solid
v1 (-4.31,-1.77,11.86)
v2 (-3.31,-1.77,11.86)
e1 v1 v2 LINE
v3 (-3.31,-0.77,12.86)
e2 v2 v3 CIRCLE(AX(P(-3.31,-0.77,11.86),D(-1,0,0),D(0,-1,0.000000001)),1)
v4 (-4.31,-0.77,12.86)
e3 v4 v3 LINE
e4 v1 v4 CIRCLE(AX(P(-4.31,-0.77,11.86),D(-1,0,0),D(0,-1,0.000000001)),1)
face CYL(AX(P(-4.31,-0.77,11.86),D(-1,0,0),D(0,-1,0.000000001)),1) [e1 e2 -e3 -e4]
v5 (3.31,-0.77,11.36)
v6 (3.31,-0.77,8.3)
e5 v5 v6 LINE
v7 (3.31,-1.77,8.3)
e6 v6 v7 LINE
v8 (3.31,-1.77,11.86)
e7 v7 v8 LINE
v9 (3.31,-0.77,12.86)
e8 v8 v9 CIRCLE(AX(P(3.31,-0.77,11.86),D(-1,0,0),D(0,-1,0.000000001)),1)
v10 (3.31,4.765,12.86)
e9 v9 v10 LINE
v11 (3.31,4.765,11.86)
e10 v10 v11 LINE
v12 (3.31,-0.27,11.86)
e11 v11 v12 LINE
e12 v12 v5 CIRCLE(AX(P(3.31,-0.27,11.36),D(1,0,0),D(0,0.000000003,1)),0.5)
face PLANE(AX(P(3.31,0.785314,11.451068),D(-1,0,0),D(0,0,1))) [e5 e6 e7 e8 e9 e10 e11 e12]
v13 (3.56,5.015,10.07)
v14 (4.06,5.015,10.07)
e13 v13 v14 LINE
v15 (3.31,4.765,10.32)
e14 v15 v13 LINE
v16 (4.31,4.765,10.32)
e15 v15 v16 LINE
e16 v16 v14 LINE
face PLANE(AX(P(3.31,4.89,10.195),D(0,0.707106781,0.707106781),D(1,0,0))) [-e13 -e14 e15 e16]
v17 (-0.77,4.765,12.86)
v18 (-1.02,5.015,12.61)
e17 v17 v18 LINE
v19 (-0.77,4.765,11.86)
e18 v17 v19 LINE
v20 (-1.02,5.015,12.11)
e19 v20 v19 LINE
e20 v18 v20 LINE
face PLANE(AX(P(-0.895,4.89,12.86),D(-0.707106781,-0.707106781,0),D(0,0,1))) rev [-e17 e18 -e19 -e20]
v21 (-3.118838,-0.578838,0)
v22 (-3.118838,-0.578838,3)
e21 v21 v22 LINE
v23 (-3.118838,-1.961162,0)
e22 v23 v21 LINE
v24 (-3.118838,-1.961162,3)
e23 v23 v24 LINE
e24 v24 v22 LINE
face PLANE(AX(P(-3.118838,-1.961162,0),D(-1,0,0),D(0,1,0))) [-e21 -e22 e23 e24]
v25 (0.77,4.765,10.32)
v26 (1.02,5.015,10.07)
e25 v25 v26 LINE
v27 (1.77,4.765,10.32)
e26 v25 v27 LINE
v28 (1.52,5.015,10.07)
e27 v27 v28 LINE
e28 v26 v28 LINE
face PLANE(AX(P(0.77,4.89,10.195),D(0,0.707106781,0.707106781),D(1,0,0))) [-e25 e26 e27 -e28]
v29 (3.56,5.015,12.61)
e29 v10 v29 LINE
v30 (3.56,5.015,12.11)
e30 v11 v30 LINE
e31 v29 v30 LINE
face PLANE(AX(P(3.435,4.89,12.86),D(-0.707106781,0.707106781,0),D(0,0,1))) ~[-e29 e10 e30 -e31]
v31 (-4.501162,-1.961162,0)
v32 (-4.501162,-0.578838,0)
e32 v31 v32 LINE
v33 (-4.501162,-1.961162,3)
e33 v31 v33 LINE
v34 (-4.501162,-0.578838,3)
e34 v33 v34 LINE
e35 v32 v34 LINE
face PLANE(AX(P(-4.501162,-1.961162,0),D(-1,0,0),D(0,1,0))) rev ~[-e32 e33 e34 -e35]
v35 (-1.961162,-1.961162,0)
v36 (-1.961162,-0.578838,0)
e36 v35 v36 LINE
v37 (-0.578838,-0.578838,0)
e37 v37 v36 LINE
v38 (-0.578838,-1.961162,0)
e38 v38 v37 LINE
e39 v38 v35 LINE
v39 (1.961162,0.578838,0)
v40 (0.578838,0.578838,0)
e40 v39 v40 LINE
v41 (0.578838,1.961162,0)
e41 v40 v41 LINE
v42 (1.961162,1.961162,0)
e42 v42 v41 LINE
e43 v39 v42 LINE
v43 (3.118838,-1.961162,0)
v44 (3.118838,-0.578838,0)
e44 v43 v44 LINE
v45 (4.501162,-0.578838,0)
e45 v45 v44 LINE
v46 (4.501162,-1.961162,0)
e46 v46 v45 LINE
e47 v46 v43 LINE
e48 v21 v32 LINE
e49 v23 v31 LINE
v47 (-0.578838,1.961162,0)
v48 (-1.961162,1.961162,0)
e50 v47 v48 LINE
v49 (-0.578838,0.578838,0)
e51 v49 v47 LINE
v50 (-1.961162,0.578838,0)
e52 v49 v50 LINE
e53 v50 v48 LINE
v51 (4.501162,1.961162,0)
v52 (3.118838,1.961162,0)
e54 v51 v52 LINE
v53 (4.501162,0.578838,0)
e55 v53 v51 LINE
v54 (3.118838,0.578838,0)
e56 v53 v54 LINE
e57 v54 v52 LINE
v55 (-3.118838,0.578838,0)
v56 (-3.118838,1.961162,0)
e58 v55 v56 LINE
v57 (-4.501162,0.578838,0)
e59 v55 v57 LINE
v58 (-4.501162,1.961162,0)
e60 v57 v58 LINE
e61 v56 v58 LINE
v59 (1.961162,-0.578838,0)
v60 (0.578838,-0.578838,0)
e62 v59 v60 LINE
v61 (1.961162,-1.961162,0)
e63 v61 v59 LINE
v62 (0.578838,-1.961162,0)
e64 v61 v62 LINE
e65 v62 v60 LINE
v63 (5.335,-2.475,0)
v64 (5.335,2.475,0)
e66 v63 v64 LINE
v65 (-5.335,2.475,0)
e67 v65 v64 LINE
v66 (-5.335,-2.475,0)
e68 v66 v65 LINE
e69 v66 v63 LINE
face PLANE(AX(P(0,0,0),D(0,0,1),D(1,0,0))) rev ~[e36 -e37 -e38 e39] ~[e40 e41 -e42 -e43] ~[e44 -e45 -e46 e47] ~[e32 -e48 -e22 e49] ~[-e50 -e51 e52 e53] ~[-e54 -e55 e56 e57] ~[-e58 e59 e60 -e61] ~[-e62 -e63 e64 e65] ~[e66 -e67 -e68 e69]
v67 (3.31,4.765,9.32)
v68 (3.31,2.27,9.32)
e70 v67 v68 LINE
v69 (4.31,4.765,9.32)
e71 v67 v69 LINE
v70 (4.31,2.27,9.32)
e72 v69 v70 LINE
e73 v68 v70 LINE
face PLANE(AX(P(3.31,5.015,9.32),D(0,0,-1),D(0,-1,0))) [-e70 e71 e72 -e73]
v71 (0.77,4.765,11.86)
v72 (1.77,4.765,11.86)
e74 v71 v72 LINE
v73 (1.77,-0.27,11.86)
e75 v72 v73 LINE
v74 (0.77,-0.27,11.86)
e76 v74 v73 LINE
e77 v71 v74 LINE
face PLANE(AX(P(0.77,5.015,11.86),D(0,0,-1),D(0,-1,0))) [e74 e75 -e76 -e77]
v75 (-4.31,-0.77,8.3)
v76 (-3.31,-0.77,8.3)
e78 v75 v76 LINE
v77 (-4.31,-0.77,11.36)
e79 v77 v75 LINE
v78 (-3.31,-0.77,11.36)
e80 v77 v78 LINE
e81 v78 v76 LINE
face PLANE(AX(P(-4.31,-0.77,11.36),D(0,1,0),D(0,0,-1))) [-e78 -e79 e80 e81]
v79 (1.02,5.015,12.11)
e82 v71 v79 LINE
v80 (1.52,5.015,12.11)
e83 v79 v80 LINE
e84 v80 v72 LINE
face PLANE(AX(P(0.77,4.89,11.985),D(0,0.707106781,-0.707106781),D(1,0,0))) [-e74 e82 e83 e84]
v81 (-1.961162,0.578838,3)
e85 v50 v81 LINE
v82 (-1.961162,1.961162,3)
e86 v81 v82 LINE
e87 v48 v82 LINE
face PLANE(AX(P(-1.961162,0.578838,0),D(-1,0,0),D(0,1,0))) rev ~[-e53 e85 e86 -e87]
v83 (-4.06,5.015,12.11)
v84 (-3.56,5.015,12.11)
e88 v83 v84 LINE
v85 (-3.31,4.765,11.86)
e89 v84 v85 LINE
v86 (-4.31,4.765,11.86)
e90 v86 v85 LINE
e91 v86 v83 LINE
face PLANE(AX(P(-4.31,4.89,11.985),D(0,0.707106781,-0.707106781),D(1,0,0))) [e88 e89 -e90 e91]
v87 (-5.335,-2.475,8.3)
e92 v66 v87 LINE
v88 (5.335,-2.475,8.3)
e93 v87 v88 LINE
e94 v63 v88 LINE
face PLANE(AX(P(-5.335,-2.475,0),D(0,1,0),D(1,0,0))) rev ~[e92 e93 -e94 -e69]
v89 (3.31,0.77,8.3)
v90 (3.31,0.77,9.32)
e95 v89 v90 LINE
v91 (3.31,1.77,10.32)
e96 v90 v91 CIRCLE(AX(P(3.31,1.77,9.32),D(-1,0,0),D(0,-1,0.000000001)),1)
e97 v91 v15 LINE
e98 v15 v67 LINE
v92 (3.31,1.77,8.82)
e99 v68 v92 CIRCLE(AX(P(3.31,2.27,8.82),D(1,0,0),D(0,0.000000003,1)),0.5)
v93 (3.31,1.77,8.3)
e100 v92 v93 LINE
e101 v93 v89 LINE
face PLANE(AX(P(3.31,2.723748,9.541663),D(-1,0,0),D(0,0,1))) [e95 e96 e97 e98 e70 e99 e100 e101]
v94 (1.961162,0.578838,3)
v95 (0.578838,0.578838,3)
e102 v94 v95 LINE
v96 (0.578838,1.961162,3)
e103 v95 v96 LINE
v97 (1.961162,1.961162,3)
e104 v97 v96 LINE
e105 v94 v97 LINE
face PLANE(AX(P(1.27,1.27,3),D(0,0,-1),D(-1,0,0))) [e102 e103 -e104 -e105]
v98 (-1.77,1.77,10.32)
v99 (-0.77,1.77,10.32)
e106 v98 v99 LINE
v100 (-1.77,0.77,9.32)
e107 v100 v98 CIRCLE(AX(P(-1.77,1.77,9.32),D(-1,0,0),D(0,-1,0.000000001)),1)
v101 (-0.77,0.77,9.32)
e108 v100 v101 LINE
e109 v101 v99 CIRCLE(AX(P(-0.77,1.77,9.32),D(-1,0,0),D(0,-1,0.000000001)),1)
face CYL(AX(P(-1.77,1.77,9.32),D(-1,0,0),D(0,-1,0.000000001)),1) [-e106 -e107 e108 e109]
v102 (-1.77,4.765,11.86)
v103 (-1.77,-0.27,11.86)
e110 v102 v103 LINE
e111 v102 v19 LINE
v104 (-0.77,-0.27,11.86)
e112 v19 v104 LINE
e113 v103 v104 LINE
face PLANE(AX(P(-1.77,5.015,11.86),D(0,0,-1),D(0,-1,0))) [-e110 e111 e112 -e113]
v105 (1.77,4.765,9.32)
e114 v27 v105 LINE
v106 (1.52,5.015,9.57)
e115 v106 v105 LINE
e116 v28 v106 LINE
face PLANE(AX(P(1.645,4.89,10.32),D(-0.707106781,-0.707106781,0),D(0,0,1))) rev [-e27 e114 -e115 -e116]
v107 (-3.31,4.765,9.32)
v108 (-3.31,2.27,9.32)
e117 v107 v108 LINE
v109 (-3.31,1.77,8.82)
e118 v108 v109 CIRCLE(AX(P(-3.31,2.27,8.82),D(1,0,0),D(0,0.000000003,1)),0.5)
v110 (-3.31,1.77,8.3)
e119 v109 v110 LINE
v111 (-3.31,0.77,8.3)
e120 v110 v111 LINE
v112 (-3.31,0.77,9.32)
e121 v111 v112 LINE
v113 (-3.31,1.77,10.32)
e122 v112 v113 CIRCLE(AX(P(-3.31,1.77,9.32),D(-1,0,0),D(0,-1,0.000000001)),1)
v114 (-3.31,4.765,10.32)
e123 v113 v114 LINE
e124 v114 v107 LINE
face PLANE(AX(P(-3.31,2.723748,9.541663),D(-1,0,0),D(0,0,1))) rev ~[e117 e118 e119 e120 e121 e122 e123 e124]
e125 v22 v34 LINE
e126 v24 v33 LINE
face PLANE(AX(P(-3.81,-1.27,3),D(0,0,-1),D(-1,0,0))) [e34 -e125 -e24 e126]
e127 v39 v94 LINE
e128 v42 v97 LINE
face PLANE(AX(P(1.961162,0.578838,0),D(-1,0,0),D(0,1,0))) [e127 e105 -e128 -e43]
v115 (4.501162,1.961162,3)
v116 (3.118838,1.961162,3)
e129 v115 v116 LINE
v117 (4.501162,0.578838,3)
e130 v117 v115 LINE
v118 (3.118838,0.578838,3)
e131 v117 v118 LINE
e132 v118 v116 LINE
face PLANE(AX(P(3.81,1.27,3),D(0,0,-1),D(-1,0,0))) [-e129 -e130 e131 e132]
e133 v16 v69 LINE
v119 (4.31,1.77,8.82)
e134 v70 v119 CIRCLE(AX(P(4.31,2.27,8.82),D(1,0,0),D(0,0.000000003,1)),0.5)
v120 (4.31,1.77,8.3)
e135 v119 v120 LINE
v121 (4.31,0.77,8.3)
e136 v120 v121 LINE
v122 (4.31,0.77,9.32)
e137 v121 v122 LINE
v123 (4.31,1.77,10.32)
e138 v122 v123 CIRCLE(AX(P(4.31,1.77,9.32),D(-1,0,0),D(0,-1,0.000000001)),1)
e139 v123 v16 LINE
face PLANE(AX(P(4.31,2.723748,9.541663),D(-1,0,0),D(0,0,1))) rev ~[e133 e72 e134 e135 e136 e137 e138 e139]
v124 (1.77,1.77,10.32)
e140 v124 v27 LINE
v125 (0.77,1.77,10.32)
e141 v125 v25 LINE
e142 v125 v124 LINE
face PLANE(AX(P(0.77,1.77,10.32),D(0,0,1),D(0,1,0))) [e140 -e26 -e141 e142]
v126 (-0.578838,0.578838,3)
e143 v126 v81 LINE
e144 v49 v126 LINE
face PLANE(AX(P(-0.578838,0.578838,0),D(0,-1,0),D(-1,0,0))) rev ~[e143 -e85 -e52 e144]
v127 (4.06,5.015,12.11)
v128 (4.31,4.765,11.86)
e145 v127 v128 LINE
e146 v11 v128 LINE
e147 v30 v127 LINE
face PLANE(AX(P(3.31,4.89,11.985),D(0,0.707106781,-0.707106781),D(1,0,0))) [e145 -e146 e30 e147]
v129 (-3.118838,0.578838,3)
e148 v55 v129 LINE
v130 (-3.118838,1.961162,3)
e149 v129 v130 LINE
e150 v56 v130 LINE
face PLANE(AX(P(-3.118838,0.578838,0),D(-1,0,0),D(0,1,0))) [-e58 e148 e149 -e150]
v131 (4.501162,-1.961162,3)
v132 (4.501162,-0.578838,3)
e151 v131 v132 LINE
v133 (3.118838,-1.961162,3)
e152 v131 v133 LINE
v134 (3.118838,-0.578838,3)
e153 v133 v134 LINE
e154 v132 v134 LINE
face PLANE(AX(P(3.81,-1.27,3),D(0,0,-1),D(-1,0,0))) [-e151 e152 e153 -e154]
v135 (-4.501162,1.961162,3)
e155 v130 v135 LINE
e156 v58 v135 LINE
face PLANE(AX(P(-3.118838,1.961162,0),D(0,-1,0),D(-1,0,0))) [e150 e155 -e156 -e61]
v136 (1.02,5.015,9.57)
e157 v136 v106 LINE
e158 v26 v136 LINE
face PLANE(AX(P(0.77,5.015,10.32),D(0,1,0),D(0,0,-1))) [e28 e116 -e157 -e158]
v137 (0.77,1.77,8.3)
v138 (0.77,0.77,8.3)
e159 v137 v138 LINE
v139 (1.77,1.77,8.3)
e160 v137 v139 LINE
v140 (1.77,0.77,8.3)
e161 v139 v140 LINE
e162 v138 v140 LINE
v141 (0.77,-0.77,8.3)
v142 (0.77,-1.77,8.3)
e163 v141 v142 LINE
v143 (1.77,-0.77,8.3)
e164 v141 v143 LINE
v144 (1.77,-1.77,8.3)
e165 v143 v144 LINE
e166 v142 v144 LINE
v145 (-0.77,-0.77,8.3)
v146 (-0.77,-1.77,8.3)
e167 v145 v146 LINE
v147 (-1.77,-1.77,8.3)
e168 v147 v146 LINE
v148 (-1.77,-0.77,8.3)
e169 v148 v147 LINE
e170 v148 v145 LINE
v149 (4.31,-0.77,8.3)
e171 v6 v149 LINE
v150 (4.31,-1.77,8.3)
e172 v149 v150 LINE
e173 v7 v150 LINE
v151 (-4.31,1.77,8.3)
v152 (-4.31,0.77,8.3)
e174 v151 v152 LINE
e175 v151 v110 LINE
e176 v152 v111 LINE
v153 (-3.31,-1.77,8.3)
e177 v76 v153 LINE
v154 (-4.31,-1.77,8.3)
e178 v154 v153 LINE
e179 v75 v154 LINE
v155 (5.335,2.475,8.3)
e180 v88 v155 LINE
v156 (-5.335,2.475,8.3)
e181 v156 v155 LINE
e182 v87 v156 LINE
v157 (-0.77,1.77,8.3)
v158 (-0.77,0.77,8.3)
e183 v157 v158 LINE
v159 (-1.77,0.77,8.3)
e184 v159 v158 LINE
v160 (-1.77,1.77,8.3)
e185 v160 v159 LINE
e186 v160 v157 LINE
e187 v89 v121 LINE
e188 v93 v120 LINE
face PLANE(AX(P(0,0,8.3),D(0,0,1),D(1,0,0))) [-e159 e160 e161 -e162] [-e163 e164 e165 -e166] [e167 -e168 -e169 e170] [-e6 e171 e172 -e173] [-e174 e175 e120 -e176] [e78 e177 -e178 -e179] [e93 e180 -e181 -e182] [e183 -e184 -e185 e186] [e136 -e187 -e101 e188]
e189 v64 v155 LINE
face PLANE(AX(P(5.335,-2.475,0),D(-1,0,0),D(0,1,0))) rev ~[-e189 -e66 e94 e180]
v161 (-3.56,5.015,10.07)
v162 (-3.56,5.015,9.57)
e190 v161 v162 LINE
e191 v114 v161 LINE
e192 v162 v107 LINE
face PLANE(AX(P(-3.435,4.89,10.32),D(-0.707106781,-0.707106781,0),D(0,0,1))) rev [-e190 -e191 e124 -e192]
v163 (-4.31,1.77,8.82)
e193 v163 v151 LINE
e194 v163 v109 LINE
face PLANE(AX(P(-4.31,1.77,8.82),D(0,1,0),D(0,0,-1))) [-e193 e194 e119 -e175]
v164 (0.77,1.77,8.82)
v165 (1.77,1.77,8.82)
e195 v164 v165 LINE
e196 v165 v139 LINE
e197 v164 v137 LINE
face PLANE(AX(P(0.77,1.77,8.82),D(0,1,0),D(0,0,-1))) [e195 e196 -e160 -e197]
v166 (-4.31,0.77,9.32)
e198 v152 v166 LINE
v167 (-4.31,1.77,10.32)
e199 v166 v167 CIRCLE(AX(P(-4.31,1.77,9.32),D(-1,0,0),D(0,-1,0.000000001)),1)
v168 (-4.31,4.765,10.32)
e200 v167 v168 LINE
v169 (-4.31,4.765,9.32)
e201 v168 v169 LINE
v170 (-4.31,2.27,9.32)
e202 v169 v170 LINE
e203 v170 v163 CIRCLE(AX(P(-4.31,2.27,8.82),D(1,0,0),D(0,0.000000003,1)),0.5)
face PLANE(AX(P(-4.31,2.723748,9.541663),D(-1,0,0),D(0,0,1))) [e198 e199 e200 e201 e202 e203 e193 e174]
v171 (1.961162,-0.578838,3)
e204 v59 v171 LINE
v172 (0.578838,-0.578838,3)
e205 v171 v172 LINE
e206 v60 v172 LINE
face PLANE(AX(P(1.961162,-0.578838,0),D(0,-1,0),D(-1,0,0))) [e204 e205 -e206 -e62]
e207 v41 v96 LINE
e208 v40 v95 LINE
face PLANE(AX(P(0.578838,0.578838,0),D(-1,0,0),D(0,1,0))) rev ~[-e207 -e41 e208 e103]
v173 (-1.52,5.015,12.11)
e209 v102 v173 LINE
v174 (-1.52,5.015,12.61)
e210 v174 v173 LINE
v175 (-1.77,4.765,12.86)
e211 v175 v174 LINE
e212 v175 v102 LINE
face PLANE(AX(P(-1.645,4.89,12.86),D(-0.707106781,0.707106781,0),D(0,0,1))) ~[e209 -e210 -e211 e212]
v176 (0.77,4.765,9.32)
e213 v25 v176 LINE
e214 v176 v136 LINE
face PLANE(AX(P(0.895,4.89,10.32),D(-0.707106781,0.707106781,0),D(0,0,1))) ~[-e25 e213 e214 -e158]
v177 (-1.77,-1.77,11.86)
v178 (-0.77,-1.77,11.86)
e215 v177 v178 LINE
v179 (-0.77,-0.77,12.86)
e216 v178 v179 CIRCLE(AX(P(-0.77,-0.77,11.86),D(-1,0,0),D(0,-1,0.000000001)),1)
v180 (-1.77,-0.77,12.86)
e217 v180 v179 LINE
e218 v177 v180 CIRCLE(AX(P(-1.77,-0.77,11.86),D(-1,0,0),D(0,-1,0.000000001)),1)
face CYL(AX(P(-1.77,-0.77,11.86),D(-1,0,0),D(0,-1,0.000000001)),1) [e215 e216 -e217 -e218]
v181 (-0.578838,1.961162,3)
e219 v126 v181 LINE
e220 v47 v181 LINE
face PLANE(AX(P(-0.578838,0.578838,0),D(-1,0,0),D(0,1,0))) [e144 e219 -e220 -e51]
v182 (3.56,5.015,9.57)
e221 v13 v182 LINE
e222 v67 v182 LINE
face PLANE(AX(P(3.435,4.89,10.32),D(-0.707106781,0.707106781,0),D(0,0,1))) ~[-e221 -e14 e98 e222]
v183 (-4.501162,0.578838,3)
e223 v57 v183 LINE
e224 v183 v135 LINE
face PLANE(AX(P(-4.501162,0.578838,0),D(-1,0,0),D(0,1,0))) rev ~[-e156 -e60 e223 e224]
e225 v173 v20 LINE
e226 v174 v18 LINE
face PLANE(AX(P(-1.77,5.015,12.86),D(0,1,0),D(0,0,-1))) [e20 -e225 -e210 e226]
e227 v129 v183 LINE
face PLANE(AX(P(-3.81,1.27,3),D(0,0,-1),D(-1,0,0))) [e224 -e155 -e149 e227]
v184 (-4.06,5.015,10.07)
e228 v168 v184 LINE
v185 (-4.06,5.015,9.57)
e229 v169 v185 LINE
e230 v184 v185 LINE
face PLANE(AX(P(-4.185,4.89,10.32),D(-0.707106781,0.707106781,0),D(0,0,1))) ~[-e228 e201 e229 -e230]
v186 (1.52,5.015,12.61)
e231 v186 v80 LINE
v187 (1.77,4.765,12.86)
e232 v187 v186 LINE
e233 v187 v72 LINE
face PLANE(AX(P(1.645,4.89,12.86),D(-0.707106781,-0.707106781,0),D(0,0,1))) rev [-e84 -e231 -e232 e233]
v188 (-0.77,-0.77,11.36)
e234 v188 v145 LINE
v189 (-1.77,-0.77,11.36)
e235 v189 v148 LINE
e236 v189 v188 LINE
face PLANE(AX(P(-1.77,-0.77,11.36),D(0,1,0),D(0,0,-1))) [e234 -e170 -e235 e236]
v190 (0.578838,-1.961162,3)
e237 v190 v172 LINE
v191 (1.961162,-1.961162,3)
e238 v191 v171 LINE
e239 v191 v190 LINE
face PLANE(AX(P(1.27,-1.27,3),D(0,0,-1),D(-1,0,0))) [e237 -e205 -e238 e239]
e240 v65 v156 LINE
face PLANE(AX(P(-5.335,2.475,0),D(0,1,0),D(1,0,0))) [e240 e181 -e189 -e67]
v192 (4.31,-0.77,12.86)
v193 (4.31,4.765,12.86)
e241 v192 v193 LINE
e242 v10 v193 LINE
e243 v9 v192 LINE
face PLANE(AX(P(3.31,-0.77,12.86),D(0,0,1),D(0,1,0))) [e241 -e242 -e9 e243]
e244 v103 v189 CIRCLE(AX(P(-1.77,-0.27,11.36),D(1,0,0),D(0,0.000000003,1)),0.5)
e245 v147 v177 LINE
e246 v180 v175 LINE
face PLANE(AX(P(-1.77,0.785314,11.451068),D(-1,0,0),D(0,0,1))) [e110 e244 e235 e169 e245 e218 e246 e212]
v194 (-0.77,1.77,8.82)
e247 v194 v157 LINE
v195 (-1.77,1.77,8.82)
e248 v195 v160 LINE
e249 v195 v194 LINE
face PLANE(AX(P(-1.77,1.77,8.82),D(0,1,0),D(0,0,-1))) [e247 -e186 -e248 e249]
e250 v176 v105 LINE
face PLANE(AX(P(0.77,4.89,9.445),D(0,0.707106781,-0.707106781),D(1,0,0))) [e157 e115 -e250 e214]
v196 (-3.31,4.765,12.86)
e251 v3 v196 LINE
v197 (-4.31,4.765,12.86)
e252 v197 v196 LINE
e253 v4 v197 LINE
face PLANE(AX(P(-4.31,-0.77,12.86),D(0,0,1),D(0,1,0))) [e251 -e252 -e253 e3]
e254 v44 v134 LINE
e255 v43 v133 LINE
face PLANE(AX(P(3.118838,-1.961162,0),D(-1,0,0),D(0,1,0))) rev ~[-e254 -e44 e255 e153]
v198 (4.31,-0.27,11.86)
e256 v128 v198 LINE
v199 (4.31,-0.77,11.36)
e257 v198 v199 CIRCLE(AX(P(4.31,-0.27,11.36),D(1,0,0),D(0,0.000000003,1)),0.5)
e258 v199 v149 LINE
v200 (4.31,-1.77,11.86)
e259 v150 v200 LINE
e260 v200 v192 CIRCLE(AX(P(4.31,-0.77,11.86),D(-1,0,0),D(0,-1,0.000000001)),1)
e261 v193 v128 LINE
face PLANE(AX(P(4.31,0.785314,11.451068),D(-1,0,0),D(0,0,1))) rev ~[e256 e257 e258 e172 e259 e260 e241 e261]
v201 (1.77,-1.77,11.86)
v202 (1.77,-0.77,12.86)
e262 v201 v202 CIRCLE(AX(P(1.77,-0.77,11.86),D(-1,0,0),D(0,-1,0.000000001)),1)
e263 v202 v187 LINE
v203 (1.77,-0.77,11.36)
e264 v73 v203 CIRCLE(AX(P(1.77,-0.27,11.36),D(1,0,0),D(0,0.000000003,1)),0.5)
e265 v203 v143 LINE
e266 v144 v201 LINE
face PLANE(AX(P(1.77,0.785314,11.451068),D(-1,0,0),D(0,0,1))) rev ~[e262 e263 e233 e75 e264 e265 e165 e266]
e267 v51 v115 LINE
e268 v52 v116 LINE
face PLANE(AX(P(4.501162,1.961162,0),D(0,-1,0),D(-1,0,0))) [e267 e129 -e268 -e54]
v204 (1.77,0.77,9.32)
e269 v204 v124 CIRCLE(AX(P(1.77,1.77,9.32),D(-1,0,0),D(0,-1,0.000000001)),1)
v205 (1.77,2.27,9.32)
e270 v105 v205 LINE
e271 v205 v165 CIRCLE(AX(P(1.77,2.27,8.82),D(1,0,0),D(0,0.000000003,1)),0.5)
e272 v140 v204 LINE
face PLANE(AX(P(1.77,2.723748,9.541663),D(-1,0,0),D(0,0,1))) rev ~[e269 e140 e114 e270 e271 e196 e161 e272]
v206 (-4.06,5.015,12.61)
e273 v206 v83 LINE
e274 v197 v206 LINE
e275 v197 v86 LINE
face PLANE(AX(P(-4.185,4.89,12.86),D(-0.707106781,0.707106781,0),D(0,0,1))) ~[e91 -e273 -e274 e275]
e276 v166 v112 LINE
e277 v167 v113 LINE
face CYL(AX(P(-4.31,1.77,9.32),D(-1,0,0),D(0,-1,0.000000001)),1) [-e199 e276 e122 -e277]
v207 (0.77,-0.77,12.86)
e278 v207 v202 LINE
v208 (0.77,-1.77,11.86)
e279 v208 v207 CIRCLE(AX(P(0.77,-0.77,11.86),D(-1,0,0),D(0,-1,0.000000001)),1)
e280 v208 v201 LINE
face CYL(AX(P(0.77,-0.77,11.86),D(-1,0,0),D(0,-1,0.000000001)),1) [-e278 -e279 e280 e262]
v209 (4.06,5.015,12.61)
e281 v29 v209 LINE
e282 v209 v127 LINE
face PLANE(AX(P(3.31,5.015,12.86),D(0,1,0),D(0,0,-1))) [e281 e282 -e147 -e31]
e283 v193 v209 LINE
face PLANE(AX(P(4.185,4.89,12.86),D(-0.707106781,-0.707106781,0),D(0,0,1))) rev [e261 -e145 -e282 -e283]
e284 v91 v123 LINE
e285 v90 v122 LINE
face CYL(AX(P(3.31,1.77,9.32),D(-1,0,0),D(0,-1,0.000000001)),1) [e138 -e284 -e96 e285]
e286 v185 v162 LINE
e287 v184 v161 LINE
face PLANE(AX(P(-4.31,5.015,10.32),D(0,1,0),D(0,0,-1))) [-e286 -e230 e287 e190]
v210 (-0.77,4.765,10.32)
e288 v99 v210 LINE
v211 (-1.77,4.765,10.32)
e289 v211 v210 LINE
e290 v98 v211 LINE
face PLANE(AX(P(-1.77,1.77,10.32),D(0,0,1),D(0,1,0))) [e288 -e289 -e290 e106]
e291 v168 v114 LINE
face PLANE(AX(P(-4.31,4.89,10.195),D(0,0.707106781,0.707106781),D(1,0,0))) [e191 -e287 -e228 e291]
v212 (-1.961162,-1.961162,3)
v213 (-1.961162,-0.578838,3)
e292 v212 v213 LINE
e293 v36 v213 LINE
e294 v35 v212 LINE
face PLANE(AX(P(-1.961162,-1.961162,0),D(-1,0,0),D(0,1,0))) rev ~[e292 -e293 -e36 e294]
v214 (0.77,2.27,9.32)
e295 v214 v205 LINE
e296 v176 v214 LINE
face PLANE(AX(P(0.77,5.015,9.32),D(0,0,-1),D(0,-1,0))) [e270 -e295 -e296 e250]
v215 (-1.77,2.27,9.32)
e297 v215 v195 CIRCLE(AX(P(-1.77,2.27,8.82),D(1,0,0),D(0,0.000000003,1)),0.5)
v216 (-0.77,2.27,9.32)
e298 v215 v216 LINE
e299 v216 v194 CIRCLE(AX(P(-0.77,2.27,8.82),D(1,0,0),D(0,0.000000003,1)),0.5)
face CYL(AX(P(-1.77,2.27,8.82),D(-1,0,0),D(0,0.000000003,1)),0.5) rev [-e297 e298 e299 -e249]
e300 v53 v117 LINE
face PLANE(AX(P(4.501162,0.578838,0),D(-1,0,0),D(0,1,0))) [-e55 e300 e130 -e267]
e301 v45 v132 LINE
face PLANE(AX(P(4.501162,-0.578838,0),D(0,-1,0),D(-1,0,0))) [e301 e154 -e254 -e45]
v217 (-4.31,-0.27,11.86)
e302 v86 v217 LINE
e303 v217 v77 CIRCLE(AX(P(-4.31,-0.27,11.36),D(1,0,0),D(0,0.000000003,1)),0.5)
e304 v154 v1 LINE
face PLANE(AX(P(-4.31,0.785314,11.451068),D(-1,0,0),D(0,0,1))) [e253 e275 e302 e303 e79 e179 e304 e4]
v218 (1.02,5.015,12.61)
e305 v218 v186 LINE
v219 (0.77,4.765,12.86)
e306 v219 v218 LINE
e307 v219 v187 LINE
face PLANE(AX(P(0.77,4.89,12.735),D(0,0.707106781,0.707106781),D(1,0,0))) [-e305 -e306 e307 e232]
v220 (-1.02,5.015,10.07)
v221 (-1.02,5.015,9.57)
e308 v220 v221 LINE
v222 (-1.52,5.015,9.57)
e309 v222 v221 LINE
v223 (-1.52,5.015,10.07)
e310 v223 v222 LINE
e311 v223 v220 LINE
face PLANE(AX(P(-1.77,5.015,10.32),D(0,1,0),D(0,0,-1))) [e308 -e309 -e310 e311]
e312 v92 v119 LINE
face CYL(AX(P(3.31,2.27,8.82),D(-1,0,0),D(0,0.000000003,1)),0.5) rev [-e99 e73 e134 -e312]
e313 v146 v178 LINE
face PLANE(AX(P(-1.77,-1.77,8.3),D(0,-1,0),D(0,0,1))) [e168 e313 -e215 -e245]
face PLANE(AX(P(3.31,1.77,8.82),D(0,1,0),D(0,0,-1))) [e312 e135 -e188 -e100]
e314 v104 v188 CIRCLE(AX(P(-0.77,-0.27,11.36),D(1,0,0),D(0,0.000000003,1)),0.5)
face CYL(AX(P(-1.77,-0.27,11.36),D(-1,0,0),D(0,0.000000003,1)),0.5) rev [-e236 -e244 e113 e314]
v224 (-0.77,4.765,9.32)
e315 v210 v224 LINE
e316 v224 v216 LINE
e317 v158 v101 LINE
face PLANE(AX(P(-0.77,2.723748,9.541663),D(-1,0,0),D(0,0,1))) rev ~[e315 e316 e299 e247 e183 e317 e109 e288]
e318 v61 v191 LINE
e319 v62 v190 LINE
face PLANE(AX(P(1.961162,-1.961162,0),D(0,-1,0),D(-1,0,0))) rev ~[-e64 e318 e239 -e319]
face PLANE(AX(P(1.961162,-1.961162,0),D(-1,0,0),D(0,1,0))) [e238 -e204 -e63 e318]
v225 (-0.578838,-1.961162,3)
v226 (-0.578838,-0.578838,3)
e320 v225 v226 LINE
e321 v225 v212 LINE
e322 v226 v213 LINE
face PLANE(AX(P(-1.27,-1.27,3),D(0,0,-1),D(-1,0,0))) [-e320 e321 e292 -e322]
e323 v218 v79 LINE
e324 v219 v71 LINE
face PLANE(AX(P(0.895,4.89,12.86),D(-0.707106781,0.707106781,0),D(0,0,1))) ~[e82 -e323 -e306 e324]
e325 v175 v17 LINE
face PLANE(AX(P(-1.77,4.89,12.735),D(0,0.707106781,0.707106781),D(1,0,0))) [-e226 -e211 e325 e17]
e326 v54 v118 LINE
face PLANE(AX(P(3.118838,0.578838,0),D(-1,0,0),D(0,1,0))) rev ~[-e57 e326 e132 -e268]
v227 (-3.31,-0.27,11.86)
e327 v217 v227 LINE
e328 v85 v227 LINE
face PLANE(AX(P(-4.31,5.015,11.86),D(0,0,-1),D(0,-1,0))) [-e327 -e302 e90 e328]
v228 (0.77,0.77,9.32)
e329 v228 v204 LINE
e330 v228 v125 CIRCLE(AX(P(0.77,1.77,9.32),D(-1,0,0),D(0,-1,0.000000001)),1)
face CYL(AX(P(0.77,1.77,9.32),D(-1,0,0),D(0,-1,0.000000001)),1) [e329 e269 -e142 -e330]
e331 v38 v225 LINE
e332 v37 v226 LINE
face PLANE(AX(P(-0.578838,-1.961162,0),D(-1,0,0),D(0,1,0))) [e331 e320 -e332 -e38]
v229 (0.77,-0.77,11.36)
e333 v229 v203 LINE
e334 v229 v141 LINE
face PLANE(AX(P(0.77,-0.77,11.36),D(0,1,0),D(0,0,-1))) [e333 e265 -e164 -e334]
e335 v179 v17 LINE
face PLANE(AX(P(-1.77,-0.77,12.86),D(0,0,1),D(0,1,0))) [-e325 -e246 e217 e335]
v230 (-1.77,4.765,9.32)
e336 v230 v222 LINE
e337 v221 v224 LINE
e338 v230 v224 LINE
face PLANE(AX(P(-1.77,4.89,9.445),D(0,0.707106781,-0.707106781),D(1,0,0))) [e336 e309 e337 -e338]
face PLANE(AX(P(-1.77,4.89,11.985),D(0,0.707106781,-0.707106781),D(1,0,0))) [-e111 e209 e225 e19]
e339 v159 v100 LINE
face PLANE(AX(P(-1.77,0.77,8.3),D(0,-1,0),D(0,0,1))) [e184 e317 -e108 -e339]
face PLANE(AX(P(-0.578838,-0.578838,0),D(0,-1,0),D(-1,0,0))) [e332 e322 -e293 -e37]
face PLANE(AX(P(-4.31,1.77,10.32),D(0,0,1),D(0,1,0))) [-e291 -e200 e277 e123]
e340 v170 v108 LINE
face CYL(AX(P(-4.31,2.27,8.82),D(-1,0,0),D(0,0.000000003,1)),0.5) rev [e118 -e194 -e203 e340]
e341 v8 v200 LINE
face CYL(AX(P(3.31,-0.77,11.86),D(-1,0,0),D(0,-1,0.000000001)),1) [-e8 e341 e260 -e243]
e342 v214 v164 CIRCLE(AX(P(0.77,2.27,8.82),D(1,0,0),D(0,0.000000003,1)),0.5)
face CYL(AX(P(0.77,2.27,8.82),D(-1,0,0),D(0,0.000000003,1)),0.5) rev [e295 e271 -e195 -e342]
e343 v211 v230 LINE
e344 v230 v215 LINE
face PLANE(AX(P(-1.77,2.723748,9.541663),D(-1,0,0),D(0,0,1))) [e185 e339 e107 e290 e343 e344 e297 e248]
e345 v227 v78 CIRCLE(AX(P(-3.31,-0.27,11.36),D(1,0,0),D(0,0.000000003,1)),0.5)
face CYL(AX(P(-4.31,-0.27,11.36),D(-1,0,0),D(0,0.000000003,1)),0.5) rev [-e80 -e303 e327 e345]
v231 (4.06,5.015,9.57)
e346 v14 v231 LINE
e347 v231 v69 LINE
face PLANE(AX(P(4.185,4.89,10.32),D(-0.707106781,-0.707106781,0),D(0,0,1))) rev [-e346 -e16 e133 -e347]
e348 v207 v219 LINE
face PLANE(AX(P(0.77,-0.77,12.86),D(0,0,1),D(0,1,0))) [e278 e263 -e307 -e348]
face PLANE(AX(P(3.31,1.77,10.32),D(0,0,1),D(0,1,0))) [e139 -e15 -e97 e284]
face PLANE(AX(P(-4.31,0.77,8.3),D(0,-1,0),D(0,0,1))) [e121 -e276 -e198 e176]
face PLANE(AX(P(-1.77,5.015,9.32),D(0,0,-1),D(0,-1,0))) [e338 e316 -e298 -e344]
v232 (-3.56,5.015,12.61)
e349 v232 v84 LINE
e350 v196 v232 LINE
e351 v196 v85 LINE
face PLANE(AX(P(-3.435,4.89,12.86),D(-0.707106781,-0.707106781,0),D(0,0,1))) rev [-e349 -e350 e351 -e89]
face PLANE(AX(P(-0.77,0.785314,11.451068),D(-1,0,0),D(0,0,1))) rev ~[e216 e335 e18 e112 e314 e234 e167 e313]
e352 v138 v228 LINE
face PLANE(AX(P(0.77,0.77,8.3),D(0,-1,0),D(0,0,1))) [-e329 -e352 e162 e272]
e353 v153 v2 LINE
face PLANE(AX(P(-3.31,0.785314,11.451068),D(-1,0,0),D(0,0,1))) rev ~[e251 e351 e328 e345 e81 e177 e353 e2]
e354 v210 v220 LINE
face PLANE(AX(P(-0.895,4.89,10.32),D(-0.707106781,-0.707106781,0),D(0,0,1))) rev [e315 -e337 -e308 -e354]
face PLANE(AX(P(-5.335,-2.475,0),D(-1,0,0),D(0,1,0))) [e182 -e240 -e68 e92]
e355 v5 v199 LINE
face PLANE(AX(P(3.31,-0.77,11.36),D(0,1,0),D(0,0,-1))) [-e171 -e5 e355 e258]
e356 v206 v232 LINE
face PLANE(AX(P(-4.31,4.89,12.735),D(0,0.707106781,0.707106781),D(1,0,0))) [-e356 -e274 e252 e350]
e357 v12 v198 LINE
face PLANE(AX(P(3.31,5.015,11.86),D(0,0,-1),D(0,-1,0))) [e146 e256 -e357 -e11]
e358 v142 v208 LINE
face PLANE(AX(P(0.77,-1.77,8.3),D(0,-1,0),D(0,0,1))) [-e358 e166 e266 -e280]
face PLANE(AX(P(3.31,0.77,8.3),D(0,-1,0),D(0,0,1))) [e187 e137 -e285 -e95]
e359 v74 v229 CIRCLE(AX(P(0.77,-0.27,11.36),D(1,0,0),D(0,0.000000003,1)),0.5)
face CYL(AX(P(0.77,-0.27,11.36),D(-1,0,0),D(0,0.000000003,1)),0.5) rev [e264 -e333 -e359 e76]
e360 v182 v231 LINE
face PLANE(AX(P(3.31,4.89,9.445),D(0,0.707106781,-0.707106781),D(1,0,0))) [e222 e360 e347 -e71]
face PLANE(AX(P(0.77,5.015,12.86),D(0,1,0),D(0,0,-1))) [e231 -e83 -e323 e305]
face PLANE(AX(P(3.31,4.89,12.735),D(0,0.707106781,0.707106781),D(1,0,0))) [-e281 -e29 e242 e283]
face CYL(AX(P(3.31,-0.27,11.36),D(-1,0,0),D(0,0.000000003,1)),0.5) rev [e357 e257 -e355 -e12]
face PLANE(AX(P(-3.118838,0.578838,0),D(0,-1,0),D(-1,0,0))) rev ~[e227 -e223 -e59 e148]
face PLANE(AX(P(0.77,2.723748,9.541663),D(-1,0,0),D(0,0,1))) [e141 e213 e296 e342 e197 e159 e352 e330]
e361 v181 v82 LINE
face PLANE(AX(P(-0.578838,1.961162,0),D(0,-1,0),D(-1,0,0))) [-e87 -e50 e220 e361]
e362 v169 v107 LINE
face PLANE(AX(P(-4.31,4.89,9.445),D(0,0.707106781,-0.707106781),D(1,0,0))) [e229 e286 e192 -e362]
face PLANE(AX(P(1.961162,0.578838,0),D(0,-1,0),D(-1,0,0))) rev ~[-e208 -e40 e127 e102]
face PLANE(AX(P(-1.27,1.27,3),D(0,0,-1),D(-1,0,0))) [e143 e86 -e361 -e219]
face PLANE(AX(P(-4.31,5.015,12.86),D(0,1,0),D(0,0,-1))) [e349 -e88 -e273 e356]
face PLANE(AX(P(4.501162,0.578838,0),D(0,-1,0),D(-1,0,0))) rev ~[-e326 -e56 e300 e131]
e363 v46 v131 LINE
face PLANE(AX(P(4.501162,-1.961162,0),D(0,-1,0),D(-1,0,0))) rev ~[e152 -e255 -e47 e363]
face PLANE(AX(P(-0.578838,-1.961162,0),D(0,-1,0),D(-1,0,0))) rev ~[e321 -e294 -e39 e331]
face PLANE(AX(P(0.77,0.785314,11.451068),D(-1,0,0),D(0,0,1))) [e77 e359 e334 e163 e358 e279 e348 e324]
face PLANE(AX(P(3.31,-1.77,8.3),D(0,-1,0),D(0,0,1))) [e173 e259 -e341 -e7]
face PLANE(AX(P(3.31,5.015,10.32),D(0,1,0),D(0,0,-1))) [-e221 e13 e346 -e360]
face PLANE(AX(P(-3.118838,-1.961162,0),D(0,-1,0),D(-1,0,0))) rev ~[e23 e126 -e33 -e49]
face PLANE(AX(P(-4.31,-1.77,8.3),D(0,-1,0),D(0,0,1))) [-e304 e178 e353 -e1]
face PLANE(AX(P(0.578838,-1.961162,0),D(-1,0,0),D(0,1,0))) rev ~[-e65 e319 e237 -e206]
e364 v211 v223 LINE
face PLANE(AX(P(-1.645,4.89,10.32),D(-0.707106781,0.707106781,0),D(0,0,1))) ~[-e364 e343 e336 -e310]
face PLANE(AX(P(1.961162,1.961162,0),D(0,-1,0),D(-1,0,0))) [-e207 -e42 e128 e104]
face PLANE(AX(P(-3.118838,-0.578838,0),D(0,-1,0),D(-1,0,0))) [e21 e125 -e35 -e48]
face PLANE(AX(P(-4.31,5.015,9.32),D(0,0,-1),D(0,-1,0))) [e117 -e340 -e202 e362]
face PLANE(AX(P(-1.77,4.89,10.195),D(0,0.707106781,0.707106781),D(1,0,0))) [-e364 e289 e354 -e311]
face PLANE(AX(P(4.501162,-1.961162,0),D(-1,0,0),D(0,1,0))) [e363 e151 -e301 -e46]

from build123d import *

# Parameters (mm, degrees)
SKETCH1_W           = 10.67
SKETCH1_H           = 4.95
BOSS_EXTRUDE1_DEPTH = 8.3
SKETCH3_W           = 1.382324252
SKETCH3_H           = 1.382324252
CUT_EXTRUDE1_DEPTH  = 3
BOSS_EXTRUDE2_START = 3.31
BOSS_EXTRUDE2_DEPTH = 1
LPATTERN1_COUNT     = 4
LPATTERN1_PITCH     = 2.54
CHAMFER1_SIZE       = 0.25


with BuildPart() as part:
    # Sketch1 → Boss-Extrude1 (new body)
    with BuildSketch(Plane.XY):
        Rectangle(SKETCH1_W, SKETCH1_H)
    extrude(amount=BOSS_EXTRUDE1_DEPTH)

    # Sketch3 → Cut-Extrude1 (cut)
    with BuildSketch(Plane(origin=(0, 0, 0), x_dir=(-1, 0, 0), z_dir=(0, 0, -1))):
        with Locations((-1.27, 1.27)):
            Rectangle(SKETCH3_W, SKETCH3_H)
        with Locations((-3.81, 1.27)):
            Rectangle(SKETCH3_W, SKETCH3_H)
        with Locations((1.27, 1.27)):
            Rectangle(SKETCH3_W, SKETCH3_H)
        with Locations((3.81, 1.27)):
            Rectangle(SKETCH3_W, SKETCH3_H)
        with Locations((-1.27, -1.27)):
            Rectangle(SKETCH3_W, SKETCH3_H)
        with Locations((1.27, -1.27)):
            Rectangle(SKETCH3_W, SKETCH3_H)
        with Locations((3.81, -1.27)):
            Rectangle(SKETCH3_W, SKETCH3_H)
        with Locations((-3.81, -1.27)):
            Rectangle(SKETCH3_W, SKETCH3_H)
    extrude(amount=-CUT_EXTRUDE1_DEPTH, mode=Mode.SUBTRACT)

    # Sketch4 → Boss-Extrude2 (add)
    with BuildSketch(Plane(origin=(0, 0, 0), x_dir=(0, 0, -1), z_dir=(1, 0, 0)).offset(BOSS_EXTRUDE2_START)):
        with BuildLine():
            Line((-8.3, 0.77), (-9.32, 0.77))
            ThreePointArc((-9.32, 0.77), (-10.027106781, 1.062893219), (-10.32, 1.77))
            Line((-10.32, 1.77), (-10.32, 5.015))
            Line((-10.32, 5.015), (-9.32, 5.015))
            Line((-9.32, 5.015), (-9.32, 2.27))
            ThreePointArc((-9.32, 2.27), (-9.173553391, 1.916446609), (-8.82, 1.77))
            Line((-8.82, 1.77), (-8.3, 1.77))
            Line((-8.3, 1.77), (-8.3, 0.77))
        make_face()
        with BuildLine():
            Line((-8.3, -1.77), (-11.86, -1.77))
            ThreePointArc((-11.86, -1.77), (-12.567106781, -1.477106781), (-12.86, -0.77))
            Line((-12.86, -0.77), (-12.86, 5.015))
            Line((-12.86, 5.015), (-11.86, 5.015))
            Line((-11.86, 5.015), (-11.86, -0.27))
            ThreePointArc((-11.86, -0.27), (-11.713553391, -0.623553391), (-11.36, -0.77))
            Line((-11.36, -0.77), (-8.3, -0.77))
            Line((-8.3, -0.77), (-8.3, -1.77))
        make_face()
    boss_extrude2 = extrude(amount=BOSS_EXTRUDE2_DEPTH)

    # LPattern1: Boss-Extrude2 ×4
    with Locations(*[(-i * LPATTERN1_PITCH, 0, 0) for i in range(1, LPATTERN1_COUNT)]):
        add(boss_extrude2)

    # Chamfer1
    chamfer1_edges = [part.edges().sort_by_distance(p)[0] for p in [
        (3.31, 5.015, 9.82),
        (3.81, 5.015, 9.32),
        (3.81, 5.015, 10.32),
        (4.31, 5.015, 9.82),
        (3.31, 5.015, 12.36),
        (3.81, 5.015, 11.86),
        (3.81, 5.015, 12.86),
        (4.31, 5.015, 12.36),
        (0.77, 5.015, 9.82),
        (1.27, 5.015, 9.32),
        (1.27, 5.015, 10.32),
        (1.77, 5.015, 9.82),
        (0.77, 5.015, 12.36),
        (1.27, 5.015, 11.86),
        (1.27, 5.015, 12.86),
        (1.77, 5.015, 12.36),
        (-1.77, 5.015, 9.82),
        (-1.27, 5.015, 9.32),
        (-1.27, 5.015, 10.32),
        (-0.77, 5.015, 9.82),
        (-1.77, 5.015, 12.36),
        (-1.27, 5.015, 11.86),
        (-1.27, 5.015, 12.86),
        (-0.77, 5.015, 12.36),
        (-4.31, 5.015, 9.82),
        (-3.81, 5.015, 9.32),
        (-3.81, 5.015, 10.32),
        (-3.31, 5.015, 9.82),
        (-4.31, 5.015, 12.36),
        (-3.81, 5.015, 11.86),
        (-3.81, 5.015, 12.86),
        (-3.31, 5.015, 12.36),
    ]]
    chamfer(chamfer1_edges, length=CHAMFER1_SIZE)


solid = part.part
